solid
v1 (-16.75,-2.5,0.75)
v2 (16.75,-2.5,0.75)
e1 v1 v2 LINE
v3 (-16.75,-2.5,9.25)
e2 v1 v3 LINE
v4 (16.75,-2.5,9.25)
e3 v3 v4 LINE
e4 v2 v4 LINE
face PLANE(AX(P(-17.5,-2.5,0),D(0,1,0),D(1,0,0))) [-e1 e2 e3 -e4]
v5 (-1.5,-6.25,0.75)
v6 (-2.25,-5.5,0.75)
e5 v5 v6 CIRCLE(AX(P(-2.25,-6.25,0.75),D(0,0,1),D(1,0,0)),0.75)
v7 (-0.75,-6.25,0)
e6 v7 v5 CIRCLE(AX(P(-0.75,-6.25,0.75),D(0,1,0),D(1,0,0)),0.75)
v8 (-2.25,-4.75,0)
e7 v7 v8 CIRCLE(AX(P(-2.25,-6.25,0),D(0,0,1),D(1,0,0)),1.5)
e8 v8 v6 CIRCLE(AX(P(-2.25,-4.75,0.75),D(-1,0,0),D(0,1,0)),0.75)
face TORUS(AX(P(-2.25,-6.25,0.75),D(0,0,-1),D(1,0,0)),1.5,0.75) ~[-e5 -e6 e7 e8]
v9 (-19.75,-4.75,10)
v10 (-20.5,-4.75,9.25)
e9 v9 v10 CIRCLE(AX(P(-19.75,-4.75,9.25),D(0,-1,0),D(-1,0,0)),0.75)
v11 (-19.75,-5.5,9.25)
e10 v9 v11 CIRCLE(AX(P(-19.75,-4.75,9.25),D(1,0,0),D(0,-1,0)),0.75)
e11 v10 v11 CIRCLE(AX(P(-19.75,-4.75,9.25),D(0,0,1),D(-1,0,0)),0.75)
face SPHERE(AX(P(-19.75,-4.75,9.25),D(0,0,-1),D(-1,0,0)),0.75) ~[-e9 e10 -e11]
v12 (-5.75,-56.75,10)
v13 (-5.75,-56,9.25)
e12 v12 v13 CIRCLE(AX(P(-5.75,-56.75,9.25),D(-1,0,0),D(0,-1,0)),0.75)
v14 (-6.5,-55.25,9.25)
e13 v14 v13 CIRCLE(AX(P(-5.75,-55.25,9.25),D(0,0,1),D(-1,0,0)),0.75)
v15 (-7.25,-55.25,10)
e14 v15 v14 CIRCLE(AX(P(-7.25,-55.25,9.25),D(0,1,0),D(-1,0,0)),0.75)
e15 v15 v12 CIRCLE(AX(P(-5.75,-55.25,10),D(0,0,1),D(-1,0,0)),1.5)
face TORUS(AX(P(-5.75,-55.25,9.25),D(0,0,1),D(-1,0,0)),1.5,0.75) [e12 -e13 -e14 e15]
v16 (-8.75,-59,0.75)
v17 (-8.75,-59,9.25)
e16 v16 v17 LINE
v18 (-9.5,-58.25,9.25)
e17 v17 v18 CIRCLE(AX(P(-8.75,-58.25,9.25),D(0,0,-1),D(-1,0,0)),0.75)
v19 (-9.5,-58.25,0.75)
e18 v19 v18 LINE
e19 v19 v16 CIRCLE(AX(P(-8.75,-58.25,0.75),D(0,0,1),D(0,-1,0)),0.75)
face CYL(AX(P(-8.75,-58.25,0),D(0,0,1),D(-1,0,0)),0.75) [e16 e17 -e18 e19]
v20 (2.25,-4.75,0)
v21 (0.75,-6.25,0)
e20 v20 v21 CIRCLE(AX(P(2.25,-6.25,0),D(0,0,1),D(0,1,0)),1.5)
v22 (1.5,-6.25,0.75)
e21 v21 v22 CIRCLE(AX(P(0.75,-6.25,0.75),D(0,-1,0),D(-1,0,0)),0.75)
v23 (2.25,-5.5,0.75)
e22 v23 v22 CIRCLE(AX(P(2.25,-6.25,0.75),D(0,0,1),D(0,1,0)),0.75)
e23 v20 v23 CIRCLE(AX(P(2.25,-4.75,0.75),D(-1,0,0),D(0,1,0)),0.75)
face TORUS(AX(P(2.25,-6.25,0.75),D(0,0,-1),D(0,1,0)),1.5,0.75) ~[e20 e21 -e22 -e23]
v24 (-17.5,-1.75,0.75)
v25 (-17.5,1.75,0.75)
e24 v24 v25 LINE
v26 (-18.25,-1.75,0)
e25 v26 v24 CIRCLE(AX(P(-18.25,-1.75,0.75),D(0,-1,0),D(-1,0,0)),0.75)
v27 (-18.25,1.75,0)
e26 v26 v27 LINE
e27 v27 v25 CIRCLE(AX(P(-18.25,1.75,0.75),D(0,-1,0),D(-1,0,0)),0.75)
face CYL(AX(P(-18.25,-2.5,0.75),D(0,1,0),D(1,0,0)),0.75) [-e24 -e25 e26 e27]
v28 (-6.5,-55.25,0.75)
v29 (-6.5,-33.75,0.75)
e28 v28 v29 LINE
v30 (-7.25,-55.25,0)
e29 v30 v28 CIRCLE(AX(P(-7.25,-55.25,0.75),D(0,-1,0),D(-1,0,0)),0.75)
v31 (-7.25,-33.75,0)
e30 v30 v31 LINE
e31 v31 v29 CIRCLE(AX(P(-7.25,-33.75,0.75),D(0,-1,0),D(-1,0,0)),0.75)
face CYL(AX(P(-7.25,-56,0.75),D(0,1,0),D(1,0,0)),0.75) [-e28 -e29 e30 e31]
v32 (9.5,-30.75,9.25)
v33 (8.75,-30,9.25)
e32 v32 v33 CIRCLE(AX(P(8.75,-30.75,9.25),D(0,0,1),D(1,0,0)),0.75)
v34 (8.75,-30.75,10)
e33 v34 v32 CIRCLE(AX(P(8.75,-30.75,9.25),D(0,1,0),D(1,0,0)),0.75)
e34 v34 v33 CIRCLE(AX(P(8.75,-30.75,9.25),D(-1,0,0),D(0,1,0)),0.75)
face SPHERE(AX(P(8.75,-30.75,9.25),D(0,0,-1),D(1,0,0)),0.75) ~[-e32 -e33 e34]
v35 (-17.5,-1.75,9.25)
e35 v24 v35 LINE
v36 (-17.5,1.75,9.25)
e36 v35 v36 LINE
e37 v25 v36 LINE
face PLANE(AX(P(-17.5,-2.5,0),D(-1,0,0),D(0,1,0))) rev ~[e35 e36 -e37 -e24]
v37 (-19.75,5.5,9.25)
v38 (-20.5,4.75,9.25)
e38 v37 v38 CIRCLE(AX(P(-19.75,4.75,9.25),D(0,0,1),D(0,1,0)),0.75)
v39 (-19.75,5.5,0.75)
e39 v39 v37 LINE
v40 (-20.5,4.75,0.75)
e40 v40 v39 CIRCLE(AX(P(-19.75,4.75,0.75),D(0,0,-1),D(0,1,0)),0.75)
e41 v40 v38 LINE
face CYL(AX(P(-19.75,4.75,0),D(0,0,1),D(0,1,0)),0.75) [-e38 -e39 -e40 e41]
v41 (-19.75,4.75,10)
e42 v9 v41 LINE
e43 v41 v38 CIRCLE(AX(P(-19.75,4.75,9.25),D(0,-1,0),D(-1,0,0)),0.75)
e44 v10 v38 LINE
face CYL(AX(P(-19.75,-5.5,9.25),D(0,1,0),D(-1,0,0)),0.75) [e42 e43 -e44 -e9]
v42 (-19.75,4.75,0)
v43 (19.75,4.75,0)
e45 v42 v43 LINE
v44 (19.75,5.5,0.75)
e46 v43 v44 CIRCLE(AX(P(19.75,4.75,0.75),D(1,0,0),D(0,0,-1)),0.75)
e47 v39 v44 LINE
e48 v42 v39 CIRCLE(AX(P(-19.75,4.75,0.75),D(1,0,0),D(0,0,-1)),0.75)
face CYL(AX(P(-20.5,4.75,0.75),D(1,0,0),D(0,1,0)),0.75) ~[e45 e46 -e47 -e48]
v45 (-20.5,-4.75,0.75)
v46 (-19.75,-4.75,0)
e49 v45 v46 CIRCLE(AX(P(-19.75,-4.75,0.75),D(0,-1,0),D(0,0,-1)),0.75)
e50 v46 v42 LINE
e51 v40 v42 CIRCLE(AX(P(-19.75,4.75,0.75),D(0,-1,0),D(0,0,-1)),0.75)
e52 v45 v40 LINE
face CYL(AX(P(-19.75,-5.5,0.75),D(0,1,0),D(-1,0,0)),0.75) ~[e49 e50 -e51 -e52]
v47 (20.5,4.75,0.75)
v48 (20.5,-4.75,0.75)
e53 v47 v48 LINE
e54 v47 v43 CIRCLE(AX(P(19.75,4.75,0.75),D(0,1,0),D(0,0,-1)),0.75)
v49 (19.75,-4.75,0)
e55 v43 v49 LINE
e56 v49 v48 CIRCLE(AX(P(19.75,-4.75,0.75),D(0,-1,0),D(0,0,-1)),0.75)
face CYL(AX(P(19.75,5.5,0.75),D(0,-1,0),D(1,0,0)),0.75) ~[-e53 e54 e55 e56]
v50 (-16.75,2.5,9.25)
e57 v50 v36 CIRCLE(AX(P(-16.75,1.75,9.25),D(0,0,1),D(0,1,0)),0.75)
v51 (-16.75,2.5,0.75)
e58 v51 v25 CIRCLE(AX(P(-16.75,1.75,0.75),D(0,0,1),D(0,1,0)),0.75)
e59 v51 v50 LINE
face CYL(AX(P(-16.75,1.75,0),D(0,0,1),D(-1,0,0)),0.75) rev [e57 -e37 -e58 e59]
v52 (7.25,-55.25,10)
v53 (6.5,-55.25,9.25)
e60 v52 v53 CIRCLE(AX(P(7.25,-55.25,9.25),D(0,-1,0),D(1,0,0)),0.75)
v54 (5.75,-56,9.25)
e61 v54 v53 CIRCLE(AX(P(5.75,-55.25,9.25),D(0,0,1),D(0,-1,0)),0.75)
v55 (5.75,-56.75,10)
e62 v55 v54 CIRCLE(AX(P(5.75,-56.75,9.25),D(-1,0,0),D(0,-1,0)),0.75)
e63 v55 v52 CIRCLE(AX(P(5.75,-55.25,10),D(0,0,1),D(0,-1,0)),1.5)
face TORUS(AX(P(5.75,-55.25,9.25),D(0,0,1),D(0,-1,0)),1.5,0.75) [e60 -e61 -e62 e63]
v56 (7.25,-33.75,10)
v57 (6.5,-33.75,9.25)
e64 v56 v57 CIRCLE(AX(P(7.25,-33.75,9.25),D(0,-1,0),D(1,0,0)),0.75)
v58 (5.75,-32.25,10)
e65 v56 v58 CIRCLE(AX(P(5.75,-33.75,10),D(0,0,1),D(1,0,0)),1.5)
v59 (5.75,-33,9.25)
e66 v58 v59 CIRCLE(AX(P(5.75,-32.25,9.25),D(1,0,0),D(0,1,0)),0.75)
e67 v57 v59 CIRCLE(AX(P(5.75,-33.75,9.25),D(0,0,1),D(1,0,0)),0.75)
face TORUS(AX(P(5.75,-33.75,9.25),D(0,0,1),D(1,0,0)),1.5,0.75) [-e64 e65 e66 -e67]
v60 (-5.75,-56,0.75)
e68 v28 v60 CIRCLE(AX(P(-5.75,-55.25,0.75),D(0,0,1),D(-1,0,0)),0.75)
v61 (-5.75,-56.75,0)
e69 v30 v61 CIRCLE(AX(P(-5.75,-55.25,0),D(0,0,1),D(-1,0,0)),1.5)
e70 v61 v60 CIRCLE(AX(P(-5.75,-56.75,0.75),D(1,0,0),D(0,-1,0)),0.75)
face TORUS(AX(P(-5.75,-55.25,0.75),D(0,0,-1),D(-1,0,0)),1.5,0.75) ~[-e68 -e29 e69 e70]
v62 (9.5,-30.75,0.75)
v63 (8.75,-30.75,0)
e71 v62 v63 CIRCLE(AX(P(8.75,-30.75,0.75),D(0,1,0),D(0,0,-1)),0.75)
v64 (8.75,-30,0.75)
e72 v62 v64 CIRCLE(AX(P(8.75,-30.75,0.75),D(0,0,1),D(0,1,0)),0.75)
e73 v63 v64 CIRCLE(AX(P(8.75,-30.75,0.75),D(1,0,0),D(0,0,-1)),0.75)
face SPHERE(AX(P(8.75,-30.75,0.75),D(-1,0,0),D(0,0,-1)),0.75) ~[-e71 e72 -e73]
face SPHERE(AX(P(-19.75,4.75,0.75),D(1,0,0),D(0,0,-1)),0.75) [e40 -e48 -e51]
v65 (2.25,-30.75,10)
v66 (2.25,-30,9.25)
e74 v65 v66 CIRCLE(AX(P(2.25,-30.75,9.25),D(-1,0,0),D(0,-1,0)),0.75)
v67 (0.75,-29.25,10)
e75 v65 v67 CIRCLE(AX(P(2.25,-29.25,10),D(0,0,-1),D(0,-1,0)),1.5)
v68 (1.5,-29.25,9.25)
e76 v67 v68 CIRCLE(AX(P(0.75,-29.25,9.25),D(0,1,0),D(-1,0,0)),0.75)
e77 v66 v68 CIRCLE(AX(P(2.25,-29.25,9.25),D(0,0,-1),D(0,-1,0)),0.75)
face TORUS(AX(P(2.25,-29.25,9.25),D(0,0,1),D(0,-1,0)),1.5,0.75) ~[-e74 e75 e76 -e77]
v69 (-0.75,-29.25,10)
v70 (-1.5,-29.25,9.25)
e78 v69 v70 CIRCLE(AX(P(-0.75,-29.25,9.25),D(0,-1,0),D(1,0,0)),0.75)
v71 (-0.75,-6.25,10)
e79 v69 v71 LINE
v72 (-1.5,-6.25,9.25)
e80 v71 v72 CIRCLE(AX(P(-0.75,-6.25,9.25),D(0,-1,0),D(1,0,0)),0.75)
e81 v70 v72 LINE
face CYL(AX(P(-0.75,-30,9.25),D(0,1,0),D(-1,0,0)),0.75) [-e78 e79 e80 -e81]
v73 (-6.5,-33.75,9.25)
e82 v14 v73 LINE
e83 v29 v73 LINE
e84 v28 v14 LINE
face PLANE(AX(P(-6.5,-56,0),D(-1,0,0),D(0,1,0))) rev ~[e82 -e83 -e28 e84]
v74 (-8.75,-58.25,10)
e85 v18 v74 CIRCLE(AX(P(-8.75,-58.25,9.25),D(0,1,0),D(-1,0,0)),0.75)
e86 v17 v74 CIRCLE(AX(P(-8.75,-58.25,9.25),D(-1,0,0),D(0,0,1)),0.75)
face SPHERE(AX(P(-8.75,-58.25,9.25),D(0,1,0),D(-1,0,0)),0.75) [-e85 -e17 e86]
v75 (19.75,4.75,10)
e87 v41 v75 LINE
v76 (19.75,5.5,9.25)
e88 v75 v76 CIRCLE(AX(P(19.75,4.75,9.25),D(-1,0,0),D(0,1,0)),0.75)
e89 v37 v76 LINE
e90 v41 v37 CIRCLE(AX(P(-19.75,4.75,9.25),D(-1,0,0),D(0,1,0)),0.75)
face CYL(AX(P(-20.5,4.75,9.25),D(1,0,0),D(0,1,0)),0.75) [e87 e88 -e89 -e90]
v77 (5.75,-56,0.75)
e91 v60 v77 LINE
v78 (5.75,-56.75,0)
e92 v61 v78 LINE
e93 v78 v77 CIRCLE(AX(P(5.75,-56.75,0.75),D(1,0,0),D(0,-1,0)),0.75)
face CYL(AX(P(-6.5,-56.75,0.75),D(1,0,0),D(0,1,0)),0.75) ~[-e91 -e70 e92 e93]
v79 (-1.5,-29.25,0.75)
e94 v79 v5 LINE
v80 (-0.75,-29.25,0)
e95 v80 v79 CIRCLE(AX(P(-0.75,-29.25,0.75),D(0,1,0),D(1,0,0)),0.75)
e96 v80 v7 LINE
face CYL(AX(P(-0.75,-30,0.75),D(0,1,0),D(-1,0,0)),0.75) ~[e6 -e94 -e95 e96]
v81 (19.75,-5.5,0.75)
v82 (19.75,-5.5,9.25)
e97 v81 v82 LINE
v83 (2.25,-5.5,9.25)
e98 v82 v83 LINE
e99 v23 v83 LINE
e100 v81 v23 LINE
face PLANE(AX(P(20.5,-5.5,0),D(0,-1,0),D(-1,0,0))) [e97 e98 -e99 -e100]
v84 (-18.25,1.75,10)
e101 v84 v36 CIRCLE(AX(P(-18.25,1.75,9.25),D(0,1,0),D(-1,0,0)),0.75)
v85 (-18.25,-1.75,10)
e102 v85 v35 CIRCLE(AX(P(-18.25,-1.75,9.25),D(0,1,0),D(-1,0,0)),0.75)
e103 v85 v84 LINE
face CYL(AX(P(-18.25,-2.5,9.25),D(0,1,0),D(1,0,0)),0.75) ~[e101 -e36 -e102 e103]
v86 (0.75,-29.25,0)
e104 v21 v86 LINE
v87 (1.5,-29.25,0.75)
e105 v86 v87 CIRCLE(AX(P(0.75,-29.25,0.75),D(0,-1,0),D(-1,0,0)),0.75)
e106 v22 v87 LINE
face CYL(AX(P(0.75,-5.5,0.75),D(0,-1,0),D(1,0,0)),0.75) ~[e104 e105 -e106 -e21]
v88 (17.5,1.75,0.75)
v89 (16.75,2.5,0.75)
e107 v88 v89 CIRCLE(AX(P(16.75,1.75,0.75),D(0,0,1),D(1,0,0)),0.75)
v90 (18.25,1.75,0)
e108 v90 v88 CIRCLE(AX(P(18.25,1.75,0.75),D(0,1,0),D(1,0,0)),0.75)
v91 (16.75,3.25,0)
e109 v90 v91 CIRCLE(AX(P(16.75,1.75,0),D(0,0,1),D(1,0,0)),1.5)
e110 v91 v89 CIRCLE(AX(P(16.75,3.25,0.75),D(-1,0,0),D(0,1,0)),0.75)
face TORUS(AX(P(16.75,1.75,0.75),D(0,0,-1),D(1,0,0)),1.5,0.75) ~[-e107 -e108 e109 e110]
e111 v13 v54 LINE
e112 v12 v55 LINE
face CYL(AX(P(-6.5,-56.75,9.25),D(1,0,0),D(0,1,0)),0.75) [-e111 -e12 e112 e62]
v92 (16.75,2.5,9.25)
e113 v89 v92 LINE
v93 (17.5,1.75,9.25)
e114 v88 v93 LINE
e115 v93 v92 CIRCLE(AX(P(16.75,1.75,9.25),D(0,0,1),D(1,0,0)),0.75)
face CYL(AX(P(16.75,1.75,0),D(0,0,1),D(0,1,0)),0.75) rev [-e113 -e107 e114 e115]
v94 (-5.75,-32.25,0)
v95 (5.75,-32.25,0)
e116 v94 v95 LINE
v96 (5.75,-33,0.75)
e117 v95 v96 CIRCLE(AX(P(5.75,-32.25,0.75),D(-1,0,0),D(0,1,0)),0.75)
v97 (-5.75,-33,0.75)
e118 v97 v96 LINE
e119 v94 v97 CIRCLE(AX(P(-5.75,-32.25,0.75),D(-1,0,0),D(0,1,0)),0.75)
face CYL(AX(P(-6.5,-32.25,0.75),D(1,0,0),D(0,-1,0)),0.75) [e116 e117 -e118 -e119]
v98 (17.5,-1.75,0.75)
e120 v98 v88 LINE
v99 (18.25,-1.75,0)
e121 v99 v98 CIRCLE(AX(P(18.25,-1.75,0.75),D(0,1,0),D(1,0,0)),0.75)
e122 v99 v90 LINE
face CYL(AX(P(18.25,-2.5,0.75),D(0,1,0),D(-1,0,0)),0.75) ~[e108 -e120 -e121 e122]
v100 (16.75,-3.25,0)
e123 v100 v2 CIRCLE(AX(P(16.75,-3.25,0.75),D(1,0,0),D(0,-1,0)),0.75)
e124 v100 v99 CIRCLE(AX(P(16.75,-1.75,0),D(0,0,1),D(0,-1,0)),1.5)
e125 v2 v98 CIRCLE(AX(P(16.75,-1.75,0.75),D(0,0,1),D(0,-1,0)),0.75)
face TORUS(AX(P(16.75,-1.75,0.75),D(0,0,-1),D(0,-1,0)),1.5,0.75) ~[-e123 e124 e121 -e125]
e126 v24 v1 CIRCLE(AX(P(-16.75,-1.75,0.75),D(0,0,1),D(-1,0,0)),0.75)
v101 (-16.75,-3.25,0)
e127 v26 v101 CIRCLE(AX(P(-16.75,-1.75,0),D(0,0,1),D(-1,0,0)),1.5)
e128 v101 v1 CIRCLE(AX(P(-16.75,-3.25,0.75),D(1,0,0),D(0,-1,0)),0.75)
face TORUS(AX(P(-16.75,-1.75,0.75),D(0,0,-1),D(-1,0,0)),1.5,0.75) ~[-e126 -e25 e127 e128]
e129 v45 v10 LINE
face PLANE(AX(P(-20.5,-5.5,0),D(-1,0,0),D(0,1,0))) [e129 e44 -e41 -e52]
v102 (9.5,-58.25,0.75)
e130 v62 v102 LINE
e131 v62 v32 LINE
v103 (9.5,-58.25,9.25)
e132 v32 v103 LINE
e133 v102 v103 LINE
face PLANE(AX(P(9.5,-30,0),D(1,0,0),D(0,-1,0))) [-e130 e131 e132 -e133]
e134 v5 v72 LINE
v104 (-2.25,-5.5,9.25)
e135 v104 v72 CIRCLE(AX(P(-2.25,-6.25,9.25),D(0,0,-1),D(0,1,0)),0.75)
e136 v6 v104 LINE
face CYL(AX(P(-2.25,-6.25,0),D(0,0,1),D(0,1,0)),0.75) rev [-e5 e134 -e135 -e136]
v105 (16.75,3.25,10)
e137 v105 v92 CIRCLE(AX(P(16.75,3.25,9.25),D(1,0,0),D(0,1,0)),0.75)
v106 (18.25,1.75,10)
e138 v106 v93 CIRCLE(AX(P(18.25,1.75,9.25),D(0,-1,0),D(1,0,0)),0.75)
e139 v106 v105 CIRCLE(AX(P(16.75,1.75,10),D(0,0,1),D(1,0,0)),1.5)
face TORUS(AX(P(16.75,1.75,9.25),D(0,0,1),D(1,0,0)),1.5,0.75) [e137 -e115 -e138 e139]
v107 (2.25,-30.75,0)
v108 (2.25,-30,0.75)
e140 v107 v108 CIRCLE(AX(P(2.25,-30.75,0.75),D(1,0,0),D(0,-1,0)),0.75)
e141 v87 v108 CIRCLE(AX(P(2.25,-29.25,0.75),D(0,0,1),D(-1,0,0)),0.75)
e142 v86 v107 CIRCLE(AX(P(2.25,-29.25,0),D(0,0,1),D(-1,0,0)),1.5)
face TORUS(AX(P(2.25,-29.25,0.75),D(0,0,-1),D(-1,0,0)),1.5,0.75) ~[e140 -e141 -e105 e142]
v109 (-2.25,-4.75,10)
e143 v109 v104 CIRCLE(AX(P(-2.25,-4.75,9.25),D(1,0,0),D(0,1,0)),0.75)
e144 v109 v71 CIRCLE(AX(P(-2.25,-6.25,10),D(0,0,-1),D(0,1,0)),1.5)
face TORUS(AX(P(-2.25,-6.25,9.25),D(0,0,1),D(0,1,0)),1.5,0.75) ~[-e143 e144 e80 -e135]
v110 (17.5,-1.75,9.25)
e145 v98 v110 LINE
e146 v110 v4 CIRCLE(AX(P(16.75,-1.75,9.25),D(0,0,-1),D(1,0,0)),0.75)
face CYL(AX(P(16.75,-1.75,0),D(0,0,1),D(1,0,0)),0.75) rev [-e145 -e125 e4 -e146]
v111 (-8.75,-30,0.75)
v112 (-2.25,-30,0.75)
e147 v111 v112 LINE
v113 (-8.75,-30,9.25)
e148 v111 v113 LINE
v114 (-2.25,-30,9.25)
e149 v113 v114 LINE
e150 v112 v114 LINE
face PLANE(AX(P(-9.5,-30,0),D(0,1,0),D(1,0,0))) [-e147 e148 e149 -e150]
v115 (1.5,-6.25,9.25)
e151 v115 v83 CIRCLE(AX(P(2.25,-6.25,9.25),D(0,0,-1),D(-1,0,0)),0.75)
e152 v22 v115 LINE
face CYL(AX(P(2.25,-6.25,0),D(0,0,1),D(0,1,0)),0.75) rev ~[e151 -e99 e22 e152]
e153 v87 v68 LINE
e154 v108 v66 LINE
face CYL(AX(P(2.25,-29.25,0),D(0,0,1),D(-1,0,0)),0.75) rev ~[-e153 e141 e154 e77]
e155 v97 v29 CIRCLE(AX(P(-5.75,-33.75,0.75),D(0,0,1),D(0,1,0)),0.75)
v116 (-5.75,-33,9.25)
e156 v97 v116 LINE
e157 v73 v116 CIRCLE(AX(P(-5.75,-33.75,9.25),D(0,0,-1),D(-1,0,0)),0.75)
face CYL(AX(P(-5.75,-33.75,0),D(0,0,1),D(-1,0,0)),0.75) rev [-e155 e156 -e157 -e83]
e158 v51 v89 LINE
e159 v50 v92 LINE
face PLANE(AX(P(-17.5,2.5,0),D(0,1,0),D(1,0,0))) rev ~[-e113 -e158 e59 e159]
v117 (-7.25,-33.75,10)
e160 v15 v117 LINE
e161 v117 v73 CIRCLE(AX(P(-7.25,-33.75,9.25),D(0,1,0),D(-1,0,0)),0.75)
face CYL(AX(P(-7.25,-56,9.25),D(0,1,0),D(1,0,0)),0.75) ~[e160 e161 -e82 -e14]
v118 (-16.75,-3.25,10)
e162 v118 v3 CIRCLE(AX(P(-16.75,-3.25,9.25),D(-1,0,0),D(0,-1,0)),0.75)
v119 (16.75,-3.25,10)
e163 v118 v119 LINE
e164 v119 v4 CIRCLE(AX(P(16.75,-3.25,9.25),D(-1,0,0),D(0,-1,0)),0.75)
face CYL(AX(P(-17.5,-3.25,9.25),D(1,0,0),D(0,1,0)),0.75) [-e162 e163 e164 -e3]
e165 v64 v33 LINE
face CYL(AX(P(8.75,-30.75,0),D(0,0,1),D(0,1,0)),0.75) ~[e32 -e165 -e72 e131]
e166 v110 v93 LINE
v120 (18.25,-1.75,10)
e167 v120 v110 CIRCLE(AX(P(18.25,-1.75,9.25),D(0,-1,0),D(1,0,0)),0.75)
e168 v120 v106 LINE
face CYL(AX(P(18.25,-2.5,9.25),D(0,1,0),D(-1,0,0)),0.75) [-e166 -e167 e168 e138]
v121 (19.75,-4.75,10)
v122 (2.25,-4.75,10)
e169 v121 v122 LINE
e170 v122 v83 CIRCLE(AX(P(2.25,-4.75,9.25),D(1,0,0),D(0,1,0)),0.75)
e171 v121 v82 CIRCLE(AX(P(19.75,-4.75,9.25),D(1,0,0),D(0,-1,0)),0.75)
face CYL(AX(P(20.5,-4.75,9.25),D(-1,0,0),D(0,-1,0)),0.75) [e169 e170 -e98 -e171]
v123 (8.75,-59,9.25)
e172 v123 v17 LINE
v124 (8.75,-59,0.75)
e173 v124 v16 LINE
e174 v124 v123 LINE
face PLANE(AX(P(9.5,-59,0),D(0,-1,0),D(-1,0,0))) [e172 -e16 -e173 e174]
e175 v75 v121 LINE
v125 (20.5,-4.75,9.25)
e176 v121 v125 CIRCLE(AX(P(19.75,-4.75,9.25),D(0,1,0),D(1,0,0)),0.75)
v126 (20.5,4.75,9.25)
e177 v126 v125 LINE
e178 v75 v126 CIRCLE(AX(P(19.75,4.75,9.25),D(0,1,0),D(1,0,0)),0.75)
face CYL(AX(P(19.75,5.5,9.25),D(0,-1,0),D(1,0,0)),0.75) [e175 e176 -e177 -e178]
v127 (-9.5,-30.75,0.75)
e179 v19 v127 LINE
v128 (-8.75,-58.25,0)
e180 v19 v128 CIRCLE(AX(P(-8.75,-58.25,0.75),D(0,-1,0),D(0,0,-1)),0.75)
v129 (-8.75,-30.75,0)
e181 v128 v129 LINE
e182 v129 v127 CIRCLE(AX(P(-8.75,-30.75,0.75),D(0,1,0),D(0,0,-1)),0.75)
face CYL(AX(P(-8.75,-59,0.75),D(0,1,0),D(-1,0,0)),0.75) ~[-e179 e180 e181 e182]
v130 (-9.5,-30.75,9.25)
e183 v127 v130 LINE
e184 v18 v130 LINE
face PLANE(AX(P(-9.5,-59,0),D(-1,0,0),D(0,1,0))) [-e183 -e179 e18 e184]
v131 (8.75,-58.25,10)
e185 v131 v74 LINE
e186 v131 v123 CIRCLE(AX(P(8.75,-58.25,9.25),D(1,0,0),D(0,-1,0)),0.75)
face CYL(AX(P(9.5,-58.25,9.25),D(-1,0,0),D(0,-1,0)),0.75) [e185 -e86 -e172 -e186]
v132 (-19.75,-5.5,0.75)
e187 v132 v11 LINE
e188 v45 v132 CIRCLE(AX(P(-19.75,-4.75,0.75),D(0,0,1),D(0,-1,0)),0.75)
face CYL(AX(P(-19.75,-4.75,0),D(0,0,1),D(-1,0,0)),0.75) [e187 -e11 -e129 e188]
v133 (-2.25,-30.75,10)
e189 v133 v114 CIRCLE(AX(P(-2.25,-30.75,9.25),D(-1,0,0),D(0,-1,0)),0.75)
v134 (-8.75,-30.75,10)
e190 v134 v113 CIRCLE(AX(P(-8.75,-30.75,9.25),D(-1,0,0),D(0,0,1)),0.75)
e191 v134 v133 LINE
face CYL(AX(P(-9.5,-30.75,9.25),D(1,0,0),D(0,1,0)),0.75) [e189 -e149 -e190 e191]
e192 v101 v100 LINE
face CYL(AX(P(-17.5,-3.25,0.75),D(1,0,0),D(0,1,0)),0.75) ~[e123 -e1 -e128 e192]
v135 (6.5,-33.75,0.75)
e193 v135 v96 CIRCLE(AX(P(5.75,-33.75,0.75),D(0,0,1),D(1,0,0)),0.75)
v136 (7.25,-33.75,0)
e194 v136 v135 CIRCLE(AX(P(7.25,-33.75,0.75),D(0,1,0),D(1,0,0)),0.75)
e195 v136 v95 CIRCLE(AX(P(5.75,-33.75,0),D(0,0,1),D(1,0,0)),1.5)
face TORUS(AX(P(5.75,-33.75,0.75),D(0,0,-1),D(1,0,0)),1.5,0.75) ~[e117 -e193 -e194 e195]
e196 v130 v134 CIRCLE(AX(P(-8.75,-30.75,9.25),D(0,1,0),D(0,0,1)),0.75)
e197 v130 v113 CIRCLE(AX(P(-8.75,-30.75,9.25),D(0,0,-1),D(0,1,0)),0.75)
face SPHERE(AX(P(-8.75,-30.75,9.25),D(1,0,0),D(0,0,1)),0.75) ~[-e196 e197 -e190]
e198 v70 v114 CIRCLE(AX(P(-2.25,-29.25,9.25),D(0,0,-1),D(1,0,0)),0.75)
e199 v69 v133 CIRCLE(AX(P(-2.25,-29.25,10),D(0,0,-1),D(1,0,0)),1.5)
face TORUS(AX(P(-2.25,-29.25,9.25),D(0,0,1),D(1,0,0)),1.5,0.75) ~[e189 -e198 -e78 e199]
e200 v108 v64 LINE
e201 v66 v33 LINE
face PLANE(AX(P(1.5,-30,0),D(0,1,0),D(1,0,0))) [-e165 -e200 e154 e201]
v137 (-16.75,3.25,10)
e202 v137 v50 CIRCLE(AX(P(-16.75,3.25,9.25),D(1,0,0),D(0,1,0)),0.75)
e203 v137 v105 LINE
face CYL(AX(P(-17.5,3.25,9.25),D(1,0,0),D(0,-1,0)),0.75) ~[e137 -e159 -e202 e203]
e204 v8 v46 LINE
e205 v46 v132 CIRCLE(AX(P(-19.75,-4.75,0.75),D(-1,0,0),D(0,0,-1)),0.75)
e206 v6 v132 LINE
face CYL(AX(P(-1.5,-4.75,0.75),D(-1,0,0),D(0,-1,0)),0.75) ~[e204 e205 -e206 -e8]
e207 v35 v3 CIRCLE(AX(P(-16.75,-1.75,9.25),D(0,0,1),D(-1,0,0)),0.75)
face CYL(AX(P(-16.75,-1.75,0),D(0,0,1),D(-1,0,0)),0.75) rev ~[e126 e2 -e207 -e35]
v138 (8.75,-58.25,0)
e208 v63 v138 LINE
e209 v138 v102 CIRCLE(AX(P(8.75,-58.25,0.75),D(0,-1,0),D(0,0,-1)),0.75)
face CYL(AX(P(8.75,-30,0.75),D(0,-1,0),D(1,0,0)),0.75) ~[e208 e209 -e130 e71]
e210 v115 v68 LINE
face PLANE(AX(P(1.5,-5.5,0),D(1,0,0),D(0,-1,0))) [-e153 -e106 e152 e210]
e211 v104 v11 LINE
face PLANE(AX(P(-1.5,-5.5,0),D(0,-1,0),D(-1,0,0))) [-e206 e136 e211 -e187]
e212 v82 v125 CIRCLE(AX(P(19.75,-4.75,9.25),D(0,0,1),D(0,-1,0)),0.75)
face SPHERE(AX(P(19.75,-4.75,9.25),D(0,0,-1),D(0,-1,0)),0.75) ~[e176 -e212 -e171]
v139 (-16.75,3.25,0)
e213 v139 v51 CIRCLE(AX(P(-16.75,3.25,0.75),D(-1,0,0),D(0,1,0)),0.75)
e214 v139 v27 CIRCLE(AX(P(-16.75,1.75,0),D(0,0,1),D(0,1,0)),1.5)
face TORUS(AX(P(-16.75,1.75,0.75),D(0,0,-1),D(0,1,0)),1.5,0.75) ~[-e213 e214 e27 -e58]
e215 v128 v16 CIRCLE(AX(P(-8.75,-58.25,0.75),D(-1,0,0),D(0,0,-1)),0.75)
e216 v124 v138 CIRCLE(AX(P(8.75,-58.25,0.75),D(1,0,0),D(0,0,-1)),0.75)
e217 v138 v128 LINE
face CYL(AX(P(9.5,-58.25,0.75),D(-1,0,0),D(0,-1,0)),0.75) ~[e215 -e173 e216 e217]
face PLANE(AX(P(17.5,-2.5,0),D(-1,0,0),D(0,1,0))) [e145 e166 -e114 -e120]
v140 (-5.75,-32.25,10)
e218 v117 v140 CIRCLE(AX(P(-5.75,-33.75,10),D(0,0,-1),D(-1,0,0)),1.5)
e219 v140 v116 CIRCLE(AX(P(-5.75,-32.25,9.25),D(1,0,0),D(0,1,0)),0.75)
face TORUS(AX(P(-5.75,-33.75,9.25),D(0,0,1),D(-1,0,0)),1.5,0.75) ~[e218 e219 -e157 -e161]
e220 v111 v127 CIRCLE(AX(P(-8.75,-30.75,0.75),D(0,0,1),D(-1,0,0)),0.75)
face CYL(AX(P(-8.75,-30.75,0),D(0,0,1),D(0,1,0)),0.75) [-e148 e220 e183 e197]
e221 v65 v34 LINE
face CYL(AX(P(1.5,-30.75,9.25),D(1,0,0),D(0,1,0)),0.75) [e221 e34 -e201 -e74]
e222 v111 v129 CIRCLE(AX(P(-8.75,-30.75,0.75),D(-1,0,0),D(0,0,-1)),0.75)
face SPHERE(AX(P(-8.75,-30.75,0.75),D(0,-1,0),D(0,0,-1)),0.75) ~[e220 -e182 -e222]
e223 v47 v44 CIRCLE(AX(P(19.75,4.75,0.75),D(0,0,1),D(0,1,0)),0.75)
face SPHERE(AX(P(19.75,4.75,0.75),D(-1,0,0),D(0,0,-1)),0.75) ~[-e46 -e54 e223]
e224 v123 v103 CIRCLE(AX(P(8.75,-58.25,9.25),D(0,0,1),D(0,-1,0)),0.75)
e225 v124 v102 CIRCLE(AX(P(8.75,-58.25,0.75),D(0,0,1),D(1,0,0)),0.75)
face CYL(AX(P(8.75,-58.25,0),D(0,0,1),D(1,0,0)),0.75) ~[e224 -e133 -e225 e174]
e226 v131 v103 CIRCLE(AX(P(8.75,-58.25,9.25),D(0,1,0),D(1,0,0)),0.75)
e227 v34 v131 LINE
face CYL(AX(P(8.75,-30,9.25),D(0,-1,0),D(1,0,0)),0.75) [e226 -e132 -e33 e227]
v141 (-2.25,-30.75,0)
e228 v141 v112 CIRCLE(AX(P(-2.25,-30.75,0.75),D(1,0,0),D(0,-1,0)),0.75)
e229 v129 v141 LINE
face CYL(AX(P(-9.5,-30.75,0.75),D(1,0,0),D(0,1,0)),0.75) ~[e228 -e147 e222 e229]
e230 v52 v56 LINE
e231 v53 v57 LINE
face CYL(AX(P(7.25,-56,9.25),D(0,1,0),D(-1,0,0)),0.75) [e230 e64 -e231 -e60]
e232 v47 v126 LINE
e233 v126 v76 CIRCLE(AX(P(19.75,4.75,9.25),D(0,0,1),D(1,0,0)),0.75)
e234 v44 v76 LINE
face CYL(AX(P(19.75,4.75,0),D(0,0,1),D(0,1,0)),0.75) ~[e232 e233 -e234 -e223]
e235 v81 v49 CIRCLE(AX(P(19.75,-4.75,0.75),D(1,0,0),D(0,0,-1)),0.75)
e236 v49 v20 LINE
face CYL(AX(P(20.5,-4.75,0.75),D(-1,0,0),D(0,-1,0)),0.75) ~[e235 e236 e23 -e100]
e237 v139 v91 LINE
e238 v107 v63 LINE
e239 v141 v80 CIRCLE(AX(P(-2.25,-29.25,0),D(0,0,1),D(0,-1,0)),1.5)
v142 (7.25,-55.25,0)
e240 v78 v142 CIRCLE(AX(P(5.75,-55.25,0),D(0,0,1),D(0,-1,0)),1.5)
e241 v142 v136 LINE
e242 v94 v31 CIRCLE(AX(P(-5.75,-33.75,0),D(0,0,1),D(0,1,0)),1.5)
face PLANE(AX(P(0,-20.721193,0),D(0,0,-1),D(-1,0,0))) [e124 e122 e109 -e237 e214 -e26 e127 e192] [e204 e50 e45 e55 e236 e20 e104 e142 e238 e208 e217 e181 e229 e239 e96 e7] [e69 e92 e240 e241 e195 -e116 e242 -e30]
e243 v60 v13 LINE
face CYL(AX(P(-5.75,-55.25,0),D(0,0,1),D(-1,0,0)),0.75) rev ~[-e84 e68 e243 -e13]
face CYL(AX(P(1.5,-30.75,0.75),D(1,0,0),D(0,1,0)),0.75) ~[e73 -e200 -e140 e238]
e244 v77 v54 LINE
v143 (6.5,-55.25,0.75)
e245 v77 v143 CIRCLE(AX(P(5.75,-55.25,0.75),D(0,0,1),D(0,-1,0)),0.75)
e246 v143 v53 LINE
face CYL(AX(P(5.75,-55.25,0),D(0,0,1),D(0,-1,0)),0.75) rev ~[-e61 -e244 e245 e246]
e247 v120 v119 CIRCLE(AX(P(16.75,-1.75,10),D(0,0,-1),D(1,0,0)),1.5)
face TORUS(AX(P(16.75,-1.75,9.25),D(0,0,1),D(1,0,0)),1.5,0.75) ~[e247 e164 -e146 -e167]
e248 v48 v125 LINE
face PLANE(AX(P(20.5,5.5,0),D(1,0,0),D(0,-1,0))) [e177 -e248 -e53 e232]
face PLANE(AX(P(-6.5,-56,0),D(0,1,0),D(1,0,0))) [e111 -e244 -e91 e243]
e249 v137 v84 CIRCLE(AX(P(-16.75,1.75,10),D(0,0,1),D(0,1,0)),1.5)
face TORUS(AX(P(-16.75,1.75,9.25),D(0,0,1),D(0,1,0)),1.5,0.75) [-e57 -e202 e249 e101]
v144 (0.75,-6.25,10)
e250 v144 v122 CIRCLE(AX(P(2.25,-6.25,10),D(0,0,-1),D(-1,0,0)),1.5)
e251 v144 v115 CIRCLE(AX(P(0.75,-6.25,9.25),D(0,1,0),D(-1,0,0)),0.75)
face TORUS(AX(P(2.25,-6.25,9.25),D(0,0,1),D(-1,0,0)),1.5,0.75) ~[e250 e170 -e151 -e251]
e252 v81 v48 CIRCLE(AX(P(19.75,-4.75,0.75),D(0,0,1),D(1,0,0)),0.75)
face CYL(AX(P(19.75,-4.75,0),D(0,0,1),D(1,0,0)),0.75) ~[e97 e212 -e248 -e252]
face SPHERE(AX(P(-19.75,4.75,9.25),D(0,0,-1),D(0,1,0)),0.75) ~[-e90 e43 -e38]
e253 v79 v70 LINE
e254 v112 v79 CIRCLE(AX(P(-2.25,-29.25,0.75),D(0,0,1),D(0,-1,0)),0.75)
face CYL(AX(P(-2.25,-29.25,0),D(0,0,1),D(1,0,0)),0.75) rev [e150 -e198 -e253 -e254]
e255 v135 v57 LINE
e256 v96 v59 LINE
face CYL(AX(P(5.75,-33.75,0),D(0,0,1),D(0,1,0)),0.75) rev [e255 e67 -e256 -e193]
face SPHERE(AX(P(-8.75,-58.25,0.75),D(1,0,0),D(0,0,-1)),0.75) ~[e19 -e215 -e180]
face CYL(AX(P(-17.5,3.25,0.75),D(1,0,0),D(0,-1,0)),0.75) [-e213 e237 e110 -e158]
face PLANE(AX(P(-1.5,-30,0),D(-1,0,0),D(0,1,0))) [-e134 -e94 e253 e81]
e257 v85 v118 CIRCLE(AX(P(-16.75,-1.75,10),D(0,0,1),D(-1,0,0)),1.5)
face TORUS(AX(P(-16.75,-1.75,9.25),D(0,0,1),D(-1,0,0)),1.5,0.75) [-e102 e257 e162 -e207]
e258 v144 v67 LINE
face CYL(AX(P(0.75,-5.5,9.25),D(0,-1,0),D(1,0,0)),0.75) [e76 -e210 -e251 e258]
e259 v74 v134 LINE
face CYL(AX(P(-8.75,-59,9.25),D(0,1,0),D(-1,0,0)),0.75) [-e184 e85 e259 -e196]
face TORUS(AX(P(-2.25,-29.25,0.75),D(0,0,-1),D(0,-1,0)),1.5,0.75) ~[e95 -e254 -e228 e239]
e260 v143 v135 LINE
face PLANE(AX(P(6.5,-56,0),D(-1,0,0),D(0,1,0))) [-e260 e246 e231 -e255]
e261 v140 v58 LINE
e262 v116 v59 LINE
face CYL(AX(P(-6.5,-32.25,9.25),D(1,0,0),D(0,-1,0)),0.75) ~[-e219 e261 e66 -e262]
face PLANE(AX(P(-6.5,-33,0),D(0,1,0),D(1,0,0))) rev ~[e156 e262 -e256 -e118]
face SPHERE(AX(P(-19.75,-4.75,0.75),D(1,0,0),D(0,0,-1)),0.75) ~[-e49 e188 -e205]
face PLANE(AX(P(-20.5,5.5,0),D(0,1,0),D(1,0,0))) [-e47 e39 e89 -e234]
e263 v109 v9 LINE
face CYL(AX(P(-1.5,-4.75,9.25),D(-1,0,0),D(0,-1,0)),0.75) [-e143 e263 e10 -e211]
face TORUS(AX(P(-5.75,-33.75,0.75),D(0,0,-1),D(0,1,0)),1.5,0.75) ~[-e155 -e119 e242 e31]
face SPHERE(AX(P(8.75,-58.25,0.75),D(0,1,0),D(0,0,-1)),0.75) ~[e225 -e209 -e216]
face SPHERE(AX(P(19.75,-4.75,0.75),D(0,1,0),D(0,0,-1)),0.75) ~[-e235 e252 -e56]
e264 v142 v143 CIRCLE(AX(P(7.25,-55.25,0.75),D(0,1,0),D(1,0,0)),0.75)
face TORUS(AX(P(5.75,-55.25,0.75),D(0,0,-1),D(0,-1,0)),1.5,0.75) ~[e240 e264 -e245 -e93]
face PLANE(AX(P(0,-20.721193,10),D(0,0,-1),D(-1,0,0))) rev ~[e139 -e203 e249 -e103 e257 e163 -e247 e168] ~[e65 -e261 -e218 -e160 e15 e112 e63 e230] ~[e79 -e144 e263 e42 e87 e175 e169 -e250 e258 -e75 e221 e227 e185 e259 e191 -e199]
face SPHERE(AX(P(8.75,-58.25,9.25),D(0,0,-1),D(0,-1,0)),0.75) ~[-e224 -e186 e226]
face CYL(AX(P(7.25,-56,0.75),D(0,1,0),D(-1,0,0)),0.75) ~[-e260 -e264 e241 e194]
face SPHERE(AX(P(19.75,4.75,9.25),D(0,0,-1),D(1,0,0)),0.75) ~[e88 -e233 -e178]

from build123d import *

# Parameters (mm, degrees)
SKETCH1_W           = 13
SKETCH1_H           = 23
SKETCH1_W_2         = 35
SKETCH1_H_2         = 5
BOSS_EXTRUDE1_DEPTH = 10
FILLET1_R           = 0.75


with BuildPart() as part:
    # Sketch1 → Boss-Extrude1 (new body)
    with BuildSketch(Plane.XY):
        Polygon((-20.5, 5.5), (20.5, 5.5), (20.5, -5.5), (1.5, -5.5), (1.5, -30), (9.5, -30), (9.5, -59), (-9.5, -59), (-9.5, -30), (-1.5, -30), (-1.5, -5.5), (-20.5, -5.5), align=None)
        with Locations((0, -44.5)):
            Rectangle(SKETCH1_W, SKETCH1_H, mode=Mode.SUBTRACT)
        Rectangle(SKETCH1_W_2, SKETCH1_H_2, mode=Mode.SUBTRACT)
    extrude(amount=BOSS_EXTRUDE1_DEPTH)

    # Fillet1
    fillet1_edges = [part.edges().sort_by_distance(p)[0] for p in [
        (0, 5.5, 0),
        (20.5, 0, 0),
        (-1.5, -17.75, 10),
        (11, -5.5, 0),
        (1.5, -17.75, 0),
        (5.5, -30, 0),
        (9.5, -44.5, 0),
        (0, -59, 0),
        (-9.5, -44.5, 0),
        (-5.5, -30, 0),
        (-1.5, -17.75, 0),
        (-11, -5.5, 0),
        (-20.5, 0, 0),
        (-5.5, -30, 10),
        (-20.5, 5.5, 5),
        (20.5, 5.5, 5),
        (20.5, -5.5, 5),
        (-9.5, -44.5, 10),
        (1.5, -5.5, 5),
        (1.5, -30, 5),
        (9.5, -30, 5),
        (9.5, -59, 5),
        (-9.5, -59, 5),
        (-9.5, -30, 5),
        (-1.5, -30, 5),
        (-1.5, -5.5, 5),
        (-20.5, -5.5, 5),
        (0, -59, 10),
        (9.5, -44.5, 10),
        (5.5, -30, 10),
        (-6.5, -44.5, 0),
        (-6.5, -33, 5),
        (0, -56, 0),
        (-6.5, -56, 5),
        (6.5, -44.5, 0),
        (6.5, -56, 5),
        (0, -33, 0),
        (6.5, -33, 5),
        (-6.5, -44.5, 10),
        (0, -56, 10),
        (6.5, -44.5, 10),
        (0, -33, 10),
        (1.5, -17.75, 10),
        (11, -5.5, 10),
        (20.5, 0, 10),
        (17.5, 0, 0),
        (17.5, -2.5, 5),
        (0, 2.5, 0),
        (17.5, 2.5, 5),
        (-17.5, 0, 0),
        (-17.5, 2.5, 5),
        (0, -2.5, 0),
        (-17.5, -2.5, 5),
        (17.5, 0, 10),
        (0, 2.5, 10),
        (-17.5, 0, 10),
        (0, 5.5, 10),
        (0, -2.5, 10),
        (-20.5, 0, 10),
        (-11, -5.5, 10),
    ]]
    fillet(fillet1_edges, radius=FILLET1_R)


solid = part.part
